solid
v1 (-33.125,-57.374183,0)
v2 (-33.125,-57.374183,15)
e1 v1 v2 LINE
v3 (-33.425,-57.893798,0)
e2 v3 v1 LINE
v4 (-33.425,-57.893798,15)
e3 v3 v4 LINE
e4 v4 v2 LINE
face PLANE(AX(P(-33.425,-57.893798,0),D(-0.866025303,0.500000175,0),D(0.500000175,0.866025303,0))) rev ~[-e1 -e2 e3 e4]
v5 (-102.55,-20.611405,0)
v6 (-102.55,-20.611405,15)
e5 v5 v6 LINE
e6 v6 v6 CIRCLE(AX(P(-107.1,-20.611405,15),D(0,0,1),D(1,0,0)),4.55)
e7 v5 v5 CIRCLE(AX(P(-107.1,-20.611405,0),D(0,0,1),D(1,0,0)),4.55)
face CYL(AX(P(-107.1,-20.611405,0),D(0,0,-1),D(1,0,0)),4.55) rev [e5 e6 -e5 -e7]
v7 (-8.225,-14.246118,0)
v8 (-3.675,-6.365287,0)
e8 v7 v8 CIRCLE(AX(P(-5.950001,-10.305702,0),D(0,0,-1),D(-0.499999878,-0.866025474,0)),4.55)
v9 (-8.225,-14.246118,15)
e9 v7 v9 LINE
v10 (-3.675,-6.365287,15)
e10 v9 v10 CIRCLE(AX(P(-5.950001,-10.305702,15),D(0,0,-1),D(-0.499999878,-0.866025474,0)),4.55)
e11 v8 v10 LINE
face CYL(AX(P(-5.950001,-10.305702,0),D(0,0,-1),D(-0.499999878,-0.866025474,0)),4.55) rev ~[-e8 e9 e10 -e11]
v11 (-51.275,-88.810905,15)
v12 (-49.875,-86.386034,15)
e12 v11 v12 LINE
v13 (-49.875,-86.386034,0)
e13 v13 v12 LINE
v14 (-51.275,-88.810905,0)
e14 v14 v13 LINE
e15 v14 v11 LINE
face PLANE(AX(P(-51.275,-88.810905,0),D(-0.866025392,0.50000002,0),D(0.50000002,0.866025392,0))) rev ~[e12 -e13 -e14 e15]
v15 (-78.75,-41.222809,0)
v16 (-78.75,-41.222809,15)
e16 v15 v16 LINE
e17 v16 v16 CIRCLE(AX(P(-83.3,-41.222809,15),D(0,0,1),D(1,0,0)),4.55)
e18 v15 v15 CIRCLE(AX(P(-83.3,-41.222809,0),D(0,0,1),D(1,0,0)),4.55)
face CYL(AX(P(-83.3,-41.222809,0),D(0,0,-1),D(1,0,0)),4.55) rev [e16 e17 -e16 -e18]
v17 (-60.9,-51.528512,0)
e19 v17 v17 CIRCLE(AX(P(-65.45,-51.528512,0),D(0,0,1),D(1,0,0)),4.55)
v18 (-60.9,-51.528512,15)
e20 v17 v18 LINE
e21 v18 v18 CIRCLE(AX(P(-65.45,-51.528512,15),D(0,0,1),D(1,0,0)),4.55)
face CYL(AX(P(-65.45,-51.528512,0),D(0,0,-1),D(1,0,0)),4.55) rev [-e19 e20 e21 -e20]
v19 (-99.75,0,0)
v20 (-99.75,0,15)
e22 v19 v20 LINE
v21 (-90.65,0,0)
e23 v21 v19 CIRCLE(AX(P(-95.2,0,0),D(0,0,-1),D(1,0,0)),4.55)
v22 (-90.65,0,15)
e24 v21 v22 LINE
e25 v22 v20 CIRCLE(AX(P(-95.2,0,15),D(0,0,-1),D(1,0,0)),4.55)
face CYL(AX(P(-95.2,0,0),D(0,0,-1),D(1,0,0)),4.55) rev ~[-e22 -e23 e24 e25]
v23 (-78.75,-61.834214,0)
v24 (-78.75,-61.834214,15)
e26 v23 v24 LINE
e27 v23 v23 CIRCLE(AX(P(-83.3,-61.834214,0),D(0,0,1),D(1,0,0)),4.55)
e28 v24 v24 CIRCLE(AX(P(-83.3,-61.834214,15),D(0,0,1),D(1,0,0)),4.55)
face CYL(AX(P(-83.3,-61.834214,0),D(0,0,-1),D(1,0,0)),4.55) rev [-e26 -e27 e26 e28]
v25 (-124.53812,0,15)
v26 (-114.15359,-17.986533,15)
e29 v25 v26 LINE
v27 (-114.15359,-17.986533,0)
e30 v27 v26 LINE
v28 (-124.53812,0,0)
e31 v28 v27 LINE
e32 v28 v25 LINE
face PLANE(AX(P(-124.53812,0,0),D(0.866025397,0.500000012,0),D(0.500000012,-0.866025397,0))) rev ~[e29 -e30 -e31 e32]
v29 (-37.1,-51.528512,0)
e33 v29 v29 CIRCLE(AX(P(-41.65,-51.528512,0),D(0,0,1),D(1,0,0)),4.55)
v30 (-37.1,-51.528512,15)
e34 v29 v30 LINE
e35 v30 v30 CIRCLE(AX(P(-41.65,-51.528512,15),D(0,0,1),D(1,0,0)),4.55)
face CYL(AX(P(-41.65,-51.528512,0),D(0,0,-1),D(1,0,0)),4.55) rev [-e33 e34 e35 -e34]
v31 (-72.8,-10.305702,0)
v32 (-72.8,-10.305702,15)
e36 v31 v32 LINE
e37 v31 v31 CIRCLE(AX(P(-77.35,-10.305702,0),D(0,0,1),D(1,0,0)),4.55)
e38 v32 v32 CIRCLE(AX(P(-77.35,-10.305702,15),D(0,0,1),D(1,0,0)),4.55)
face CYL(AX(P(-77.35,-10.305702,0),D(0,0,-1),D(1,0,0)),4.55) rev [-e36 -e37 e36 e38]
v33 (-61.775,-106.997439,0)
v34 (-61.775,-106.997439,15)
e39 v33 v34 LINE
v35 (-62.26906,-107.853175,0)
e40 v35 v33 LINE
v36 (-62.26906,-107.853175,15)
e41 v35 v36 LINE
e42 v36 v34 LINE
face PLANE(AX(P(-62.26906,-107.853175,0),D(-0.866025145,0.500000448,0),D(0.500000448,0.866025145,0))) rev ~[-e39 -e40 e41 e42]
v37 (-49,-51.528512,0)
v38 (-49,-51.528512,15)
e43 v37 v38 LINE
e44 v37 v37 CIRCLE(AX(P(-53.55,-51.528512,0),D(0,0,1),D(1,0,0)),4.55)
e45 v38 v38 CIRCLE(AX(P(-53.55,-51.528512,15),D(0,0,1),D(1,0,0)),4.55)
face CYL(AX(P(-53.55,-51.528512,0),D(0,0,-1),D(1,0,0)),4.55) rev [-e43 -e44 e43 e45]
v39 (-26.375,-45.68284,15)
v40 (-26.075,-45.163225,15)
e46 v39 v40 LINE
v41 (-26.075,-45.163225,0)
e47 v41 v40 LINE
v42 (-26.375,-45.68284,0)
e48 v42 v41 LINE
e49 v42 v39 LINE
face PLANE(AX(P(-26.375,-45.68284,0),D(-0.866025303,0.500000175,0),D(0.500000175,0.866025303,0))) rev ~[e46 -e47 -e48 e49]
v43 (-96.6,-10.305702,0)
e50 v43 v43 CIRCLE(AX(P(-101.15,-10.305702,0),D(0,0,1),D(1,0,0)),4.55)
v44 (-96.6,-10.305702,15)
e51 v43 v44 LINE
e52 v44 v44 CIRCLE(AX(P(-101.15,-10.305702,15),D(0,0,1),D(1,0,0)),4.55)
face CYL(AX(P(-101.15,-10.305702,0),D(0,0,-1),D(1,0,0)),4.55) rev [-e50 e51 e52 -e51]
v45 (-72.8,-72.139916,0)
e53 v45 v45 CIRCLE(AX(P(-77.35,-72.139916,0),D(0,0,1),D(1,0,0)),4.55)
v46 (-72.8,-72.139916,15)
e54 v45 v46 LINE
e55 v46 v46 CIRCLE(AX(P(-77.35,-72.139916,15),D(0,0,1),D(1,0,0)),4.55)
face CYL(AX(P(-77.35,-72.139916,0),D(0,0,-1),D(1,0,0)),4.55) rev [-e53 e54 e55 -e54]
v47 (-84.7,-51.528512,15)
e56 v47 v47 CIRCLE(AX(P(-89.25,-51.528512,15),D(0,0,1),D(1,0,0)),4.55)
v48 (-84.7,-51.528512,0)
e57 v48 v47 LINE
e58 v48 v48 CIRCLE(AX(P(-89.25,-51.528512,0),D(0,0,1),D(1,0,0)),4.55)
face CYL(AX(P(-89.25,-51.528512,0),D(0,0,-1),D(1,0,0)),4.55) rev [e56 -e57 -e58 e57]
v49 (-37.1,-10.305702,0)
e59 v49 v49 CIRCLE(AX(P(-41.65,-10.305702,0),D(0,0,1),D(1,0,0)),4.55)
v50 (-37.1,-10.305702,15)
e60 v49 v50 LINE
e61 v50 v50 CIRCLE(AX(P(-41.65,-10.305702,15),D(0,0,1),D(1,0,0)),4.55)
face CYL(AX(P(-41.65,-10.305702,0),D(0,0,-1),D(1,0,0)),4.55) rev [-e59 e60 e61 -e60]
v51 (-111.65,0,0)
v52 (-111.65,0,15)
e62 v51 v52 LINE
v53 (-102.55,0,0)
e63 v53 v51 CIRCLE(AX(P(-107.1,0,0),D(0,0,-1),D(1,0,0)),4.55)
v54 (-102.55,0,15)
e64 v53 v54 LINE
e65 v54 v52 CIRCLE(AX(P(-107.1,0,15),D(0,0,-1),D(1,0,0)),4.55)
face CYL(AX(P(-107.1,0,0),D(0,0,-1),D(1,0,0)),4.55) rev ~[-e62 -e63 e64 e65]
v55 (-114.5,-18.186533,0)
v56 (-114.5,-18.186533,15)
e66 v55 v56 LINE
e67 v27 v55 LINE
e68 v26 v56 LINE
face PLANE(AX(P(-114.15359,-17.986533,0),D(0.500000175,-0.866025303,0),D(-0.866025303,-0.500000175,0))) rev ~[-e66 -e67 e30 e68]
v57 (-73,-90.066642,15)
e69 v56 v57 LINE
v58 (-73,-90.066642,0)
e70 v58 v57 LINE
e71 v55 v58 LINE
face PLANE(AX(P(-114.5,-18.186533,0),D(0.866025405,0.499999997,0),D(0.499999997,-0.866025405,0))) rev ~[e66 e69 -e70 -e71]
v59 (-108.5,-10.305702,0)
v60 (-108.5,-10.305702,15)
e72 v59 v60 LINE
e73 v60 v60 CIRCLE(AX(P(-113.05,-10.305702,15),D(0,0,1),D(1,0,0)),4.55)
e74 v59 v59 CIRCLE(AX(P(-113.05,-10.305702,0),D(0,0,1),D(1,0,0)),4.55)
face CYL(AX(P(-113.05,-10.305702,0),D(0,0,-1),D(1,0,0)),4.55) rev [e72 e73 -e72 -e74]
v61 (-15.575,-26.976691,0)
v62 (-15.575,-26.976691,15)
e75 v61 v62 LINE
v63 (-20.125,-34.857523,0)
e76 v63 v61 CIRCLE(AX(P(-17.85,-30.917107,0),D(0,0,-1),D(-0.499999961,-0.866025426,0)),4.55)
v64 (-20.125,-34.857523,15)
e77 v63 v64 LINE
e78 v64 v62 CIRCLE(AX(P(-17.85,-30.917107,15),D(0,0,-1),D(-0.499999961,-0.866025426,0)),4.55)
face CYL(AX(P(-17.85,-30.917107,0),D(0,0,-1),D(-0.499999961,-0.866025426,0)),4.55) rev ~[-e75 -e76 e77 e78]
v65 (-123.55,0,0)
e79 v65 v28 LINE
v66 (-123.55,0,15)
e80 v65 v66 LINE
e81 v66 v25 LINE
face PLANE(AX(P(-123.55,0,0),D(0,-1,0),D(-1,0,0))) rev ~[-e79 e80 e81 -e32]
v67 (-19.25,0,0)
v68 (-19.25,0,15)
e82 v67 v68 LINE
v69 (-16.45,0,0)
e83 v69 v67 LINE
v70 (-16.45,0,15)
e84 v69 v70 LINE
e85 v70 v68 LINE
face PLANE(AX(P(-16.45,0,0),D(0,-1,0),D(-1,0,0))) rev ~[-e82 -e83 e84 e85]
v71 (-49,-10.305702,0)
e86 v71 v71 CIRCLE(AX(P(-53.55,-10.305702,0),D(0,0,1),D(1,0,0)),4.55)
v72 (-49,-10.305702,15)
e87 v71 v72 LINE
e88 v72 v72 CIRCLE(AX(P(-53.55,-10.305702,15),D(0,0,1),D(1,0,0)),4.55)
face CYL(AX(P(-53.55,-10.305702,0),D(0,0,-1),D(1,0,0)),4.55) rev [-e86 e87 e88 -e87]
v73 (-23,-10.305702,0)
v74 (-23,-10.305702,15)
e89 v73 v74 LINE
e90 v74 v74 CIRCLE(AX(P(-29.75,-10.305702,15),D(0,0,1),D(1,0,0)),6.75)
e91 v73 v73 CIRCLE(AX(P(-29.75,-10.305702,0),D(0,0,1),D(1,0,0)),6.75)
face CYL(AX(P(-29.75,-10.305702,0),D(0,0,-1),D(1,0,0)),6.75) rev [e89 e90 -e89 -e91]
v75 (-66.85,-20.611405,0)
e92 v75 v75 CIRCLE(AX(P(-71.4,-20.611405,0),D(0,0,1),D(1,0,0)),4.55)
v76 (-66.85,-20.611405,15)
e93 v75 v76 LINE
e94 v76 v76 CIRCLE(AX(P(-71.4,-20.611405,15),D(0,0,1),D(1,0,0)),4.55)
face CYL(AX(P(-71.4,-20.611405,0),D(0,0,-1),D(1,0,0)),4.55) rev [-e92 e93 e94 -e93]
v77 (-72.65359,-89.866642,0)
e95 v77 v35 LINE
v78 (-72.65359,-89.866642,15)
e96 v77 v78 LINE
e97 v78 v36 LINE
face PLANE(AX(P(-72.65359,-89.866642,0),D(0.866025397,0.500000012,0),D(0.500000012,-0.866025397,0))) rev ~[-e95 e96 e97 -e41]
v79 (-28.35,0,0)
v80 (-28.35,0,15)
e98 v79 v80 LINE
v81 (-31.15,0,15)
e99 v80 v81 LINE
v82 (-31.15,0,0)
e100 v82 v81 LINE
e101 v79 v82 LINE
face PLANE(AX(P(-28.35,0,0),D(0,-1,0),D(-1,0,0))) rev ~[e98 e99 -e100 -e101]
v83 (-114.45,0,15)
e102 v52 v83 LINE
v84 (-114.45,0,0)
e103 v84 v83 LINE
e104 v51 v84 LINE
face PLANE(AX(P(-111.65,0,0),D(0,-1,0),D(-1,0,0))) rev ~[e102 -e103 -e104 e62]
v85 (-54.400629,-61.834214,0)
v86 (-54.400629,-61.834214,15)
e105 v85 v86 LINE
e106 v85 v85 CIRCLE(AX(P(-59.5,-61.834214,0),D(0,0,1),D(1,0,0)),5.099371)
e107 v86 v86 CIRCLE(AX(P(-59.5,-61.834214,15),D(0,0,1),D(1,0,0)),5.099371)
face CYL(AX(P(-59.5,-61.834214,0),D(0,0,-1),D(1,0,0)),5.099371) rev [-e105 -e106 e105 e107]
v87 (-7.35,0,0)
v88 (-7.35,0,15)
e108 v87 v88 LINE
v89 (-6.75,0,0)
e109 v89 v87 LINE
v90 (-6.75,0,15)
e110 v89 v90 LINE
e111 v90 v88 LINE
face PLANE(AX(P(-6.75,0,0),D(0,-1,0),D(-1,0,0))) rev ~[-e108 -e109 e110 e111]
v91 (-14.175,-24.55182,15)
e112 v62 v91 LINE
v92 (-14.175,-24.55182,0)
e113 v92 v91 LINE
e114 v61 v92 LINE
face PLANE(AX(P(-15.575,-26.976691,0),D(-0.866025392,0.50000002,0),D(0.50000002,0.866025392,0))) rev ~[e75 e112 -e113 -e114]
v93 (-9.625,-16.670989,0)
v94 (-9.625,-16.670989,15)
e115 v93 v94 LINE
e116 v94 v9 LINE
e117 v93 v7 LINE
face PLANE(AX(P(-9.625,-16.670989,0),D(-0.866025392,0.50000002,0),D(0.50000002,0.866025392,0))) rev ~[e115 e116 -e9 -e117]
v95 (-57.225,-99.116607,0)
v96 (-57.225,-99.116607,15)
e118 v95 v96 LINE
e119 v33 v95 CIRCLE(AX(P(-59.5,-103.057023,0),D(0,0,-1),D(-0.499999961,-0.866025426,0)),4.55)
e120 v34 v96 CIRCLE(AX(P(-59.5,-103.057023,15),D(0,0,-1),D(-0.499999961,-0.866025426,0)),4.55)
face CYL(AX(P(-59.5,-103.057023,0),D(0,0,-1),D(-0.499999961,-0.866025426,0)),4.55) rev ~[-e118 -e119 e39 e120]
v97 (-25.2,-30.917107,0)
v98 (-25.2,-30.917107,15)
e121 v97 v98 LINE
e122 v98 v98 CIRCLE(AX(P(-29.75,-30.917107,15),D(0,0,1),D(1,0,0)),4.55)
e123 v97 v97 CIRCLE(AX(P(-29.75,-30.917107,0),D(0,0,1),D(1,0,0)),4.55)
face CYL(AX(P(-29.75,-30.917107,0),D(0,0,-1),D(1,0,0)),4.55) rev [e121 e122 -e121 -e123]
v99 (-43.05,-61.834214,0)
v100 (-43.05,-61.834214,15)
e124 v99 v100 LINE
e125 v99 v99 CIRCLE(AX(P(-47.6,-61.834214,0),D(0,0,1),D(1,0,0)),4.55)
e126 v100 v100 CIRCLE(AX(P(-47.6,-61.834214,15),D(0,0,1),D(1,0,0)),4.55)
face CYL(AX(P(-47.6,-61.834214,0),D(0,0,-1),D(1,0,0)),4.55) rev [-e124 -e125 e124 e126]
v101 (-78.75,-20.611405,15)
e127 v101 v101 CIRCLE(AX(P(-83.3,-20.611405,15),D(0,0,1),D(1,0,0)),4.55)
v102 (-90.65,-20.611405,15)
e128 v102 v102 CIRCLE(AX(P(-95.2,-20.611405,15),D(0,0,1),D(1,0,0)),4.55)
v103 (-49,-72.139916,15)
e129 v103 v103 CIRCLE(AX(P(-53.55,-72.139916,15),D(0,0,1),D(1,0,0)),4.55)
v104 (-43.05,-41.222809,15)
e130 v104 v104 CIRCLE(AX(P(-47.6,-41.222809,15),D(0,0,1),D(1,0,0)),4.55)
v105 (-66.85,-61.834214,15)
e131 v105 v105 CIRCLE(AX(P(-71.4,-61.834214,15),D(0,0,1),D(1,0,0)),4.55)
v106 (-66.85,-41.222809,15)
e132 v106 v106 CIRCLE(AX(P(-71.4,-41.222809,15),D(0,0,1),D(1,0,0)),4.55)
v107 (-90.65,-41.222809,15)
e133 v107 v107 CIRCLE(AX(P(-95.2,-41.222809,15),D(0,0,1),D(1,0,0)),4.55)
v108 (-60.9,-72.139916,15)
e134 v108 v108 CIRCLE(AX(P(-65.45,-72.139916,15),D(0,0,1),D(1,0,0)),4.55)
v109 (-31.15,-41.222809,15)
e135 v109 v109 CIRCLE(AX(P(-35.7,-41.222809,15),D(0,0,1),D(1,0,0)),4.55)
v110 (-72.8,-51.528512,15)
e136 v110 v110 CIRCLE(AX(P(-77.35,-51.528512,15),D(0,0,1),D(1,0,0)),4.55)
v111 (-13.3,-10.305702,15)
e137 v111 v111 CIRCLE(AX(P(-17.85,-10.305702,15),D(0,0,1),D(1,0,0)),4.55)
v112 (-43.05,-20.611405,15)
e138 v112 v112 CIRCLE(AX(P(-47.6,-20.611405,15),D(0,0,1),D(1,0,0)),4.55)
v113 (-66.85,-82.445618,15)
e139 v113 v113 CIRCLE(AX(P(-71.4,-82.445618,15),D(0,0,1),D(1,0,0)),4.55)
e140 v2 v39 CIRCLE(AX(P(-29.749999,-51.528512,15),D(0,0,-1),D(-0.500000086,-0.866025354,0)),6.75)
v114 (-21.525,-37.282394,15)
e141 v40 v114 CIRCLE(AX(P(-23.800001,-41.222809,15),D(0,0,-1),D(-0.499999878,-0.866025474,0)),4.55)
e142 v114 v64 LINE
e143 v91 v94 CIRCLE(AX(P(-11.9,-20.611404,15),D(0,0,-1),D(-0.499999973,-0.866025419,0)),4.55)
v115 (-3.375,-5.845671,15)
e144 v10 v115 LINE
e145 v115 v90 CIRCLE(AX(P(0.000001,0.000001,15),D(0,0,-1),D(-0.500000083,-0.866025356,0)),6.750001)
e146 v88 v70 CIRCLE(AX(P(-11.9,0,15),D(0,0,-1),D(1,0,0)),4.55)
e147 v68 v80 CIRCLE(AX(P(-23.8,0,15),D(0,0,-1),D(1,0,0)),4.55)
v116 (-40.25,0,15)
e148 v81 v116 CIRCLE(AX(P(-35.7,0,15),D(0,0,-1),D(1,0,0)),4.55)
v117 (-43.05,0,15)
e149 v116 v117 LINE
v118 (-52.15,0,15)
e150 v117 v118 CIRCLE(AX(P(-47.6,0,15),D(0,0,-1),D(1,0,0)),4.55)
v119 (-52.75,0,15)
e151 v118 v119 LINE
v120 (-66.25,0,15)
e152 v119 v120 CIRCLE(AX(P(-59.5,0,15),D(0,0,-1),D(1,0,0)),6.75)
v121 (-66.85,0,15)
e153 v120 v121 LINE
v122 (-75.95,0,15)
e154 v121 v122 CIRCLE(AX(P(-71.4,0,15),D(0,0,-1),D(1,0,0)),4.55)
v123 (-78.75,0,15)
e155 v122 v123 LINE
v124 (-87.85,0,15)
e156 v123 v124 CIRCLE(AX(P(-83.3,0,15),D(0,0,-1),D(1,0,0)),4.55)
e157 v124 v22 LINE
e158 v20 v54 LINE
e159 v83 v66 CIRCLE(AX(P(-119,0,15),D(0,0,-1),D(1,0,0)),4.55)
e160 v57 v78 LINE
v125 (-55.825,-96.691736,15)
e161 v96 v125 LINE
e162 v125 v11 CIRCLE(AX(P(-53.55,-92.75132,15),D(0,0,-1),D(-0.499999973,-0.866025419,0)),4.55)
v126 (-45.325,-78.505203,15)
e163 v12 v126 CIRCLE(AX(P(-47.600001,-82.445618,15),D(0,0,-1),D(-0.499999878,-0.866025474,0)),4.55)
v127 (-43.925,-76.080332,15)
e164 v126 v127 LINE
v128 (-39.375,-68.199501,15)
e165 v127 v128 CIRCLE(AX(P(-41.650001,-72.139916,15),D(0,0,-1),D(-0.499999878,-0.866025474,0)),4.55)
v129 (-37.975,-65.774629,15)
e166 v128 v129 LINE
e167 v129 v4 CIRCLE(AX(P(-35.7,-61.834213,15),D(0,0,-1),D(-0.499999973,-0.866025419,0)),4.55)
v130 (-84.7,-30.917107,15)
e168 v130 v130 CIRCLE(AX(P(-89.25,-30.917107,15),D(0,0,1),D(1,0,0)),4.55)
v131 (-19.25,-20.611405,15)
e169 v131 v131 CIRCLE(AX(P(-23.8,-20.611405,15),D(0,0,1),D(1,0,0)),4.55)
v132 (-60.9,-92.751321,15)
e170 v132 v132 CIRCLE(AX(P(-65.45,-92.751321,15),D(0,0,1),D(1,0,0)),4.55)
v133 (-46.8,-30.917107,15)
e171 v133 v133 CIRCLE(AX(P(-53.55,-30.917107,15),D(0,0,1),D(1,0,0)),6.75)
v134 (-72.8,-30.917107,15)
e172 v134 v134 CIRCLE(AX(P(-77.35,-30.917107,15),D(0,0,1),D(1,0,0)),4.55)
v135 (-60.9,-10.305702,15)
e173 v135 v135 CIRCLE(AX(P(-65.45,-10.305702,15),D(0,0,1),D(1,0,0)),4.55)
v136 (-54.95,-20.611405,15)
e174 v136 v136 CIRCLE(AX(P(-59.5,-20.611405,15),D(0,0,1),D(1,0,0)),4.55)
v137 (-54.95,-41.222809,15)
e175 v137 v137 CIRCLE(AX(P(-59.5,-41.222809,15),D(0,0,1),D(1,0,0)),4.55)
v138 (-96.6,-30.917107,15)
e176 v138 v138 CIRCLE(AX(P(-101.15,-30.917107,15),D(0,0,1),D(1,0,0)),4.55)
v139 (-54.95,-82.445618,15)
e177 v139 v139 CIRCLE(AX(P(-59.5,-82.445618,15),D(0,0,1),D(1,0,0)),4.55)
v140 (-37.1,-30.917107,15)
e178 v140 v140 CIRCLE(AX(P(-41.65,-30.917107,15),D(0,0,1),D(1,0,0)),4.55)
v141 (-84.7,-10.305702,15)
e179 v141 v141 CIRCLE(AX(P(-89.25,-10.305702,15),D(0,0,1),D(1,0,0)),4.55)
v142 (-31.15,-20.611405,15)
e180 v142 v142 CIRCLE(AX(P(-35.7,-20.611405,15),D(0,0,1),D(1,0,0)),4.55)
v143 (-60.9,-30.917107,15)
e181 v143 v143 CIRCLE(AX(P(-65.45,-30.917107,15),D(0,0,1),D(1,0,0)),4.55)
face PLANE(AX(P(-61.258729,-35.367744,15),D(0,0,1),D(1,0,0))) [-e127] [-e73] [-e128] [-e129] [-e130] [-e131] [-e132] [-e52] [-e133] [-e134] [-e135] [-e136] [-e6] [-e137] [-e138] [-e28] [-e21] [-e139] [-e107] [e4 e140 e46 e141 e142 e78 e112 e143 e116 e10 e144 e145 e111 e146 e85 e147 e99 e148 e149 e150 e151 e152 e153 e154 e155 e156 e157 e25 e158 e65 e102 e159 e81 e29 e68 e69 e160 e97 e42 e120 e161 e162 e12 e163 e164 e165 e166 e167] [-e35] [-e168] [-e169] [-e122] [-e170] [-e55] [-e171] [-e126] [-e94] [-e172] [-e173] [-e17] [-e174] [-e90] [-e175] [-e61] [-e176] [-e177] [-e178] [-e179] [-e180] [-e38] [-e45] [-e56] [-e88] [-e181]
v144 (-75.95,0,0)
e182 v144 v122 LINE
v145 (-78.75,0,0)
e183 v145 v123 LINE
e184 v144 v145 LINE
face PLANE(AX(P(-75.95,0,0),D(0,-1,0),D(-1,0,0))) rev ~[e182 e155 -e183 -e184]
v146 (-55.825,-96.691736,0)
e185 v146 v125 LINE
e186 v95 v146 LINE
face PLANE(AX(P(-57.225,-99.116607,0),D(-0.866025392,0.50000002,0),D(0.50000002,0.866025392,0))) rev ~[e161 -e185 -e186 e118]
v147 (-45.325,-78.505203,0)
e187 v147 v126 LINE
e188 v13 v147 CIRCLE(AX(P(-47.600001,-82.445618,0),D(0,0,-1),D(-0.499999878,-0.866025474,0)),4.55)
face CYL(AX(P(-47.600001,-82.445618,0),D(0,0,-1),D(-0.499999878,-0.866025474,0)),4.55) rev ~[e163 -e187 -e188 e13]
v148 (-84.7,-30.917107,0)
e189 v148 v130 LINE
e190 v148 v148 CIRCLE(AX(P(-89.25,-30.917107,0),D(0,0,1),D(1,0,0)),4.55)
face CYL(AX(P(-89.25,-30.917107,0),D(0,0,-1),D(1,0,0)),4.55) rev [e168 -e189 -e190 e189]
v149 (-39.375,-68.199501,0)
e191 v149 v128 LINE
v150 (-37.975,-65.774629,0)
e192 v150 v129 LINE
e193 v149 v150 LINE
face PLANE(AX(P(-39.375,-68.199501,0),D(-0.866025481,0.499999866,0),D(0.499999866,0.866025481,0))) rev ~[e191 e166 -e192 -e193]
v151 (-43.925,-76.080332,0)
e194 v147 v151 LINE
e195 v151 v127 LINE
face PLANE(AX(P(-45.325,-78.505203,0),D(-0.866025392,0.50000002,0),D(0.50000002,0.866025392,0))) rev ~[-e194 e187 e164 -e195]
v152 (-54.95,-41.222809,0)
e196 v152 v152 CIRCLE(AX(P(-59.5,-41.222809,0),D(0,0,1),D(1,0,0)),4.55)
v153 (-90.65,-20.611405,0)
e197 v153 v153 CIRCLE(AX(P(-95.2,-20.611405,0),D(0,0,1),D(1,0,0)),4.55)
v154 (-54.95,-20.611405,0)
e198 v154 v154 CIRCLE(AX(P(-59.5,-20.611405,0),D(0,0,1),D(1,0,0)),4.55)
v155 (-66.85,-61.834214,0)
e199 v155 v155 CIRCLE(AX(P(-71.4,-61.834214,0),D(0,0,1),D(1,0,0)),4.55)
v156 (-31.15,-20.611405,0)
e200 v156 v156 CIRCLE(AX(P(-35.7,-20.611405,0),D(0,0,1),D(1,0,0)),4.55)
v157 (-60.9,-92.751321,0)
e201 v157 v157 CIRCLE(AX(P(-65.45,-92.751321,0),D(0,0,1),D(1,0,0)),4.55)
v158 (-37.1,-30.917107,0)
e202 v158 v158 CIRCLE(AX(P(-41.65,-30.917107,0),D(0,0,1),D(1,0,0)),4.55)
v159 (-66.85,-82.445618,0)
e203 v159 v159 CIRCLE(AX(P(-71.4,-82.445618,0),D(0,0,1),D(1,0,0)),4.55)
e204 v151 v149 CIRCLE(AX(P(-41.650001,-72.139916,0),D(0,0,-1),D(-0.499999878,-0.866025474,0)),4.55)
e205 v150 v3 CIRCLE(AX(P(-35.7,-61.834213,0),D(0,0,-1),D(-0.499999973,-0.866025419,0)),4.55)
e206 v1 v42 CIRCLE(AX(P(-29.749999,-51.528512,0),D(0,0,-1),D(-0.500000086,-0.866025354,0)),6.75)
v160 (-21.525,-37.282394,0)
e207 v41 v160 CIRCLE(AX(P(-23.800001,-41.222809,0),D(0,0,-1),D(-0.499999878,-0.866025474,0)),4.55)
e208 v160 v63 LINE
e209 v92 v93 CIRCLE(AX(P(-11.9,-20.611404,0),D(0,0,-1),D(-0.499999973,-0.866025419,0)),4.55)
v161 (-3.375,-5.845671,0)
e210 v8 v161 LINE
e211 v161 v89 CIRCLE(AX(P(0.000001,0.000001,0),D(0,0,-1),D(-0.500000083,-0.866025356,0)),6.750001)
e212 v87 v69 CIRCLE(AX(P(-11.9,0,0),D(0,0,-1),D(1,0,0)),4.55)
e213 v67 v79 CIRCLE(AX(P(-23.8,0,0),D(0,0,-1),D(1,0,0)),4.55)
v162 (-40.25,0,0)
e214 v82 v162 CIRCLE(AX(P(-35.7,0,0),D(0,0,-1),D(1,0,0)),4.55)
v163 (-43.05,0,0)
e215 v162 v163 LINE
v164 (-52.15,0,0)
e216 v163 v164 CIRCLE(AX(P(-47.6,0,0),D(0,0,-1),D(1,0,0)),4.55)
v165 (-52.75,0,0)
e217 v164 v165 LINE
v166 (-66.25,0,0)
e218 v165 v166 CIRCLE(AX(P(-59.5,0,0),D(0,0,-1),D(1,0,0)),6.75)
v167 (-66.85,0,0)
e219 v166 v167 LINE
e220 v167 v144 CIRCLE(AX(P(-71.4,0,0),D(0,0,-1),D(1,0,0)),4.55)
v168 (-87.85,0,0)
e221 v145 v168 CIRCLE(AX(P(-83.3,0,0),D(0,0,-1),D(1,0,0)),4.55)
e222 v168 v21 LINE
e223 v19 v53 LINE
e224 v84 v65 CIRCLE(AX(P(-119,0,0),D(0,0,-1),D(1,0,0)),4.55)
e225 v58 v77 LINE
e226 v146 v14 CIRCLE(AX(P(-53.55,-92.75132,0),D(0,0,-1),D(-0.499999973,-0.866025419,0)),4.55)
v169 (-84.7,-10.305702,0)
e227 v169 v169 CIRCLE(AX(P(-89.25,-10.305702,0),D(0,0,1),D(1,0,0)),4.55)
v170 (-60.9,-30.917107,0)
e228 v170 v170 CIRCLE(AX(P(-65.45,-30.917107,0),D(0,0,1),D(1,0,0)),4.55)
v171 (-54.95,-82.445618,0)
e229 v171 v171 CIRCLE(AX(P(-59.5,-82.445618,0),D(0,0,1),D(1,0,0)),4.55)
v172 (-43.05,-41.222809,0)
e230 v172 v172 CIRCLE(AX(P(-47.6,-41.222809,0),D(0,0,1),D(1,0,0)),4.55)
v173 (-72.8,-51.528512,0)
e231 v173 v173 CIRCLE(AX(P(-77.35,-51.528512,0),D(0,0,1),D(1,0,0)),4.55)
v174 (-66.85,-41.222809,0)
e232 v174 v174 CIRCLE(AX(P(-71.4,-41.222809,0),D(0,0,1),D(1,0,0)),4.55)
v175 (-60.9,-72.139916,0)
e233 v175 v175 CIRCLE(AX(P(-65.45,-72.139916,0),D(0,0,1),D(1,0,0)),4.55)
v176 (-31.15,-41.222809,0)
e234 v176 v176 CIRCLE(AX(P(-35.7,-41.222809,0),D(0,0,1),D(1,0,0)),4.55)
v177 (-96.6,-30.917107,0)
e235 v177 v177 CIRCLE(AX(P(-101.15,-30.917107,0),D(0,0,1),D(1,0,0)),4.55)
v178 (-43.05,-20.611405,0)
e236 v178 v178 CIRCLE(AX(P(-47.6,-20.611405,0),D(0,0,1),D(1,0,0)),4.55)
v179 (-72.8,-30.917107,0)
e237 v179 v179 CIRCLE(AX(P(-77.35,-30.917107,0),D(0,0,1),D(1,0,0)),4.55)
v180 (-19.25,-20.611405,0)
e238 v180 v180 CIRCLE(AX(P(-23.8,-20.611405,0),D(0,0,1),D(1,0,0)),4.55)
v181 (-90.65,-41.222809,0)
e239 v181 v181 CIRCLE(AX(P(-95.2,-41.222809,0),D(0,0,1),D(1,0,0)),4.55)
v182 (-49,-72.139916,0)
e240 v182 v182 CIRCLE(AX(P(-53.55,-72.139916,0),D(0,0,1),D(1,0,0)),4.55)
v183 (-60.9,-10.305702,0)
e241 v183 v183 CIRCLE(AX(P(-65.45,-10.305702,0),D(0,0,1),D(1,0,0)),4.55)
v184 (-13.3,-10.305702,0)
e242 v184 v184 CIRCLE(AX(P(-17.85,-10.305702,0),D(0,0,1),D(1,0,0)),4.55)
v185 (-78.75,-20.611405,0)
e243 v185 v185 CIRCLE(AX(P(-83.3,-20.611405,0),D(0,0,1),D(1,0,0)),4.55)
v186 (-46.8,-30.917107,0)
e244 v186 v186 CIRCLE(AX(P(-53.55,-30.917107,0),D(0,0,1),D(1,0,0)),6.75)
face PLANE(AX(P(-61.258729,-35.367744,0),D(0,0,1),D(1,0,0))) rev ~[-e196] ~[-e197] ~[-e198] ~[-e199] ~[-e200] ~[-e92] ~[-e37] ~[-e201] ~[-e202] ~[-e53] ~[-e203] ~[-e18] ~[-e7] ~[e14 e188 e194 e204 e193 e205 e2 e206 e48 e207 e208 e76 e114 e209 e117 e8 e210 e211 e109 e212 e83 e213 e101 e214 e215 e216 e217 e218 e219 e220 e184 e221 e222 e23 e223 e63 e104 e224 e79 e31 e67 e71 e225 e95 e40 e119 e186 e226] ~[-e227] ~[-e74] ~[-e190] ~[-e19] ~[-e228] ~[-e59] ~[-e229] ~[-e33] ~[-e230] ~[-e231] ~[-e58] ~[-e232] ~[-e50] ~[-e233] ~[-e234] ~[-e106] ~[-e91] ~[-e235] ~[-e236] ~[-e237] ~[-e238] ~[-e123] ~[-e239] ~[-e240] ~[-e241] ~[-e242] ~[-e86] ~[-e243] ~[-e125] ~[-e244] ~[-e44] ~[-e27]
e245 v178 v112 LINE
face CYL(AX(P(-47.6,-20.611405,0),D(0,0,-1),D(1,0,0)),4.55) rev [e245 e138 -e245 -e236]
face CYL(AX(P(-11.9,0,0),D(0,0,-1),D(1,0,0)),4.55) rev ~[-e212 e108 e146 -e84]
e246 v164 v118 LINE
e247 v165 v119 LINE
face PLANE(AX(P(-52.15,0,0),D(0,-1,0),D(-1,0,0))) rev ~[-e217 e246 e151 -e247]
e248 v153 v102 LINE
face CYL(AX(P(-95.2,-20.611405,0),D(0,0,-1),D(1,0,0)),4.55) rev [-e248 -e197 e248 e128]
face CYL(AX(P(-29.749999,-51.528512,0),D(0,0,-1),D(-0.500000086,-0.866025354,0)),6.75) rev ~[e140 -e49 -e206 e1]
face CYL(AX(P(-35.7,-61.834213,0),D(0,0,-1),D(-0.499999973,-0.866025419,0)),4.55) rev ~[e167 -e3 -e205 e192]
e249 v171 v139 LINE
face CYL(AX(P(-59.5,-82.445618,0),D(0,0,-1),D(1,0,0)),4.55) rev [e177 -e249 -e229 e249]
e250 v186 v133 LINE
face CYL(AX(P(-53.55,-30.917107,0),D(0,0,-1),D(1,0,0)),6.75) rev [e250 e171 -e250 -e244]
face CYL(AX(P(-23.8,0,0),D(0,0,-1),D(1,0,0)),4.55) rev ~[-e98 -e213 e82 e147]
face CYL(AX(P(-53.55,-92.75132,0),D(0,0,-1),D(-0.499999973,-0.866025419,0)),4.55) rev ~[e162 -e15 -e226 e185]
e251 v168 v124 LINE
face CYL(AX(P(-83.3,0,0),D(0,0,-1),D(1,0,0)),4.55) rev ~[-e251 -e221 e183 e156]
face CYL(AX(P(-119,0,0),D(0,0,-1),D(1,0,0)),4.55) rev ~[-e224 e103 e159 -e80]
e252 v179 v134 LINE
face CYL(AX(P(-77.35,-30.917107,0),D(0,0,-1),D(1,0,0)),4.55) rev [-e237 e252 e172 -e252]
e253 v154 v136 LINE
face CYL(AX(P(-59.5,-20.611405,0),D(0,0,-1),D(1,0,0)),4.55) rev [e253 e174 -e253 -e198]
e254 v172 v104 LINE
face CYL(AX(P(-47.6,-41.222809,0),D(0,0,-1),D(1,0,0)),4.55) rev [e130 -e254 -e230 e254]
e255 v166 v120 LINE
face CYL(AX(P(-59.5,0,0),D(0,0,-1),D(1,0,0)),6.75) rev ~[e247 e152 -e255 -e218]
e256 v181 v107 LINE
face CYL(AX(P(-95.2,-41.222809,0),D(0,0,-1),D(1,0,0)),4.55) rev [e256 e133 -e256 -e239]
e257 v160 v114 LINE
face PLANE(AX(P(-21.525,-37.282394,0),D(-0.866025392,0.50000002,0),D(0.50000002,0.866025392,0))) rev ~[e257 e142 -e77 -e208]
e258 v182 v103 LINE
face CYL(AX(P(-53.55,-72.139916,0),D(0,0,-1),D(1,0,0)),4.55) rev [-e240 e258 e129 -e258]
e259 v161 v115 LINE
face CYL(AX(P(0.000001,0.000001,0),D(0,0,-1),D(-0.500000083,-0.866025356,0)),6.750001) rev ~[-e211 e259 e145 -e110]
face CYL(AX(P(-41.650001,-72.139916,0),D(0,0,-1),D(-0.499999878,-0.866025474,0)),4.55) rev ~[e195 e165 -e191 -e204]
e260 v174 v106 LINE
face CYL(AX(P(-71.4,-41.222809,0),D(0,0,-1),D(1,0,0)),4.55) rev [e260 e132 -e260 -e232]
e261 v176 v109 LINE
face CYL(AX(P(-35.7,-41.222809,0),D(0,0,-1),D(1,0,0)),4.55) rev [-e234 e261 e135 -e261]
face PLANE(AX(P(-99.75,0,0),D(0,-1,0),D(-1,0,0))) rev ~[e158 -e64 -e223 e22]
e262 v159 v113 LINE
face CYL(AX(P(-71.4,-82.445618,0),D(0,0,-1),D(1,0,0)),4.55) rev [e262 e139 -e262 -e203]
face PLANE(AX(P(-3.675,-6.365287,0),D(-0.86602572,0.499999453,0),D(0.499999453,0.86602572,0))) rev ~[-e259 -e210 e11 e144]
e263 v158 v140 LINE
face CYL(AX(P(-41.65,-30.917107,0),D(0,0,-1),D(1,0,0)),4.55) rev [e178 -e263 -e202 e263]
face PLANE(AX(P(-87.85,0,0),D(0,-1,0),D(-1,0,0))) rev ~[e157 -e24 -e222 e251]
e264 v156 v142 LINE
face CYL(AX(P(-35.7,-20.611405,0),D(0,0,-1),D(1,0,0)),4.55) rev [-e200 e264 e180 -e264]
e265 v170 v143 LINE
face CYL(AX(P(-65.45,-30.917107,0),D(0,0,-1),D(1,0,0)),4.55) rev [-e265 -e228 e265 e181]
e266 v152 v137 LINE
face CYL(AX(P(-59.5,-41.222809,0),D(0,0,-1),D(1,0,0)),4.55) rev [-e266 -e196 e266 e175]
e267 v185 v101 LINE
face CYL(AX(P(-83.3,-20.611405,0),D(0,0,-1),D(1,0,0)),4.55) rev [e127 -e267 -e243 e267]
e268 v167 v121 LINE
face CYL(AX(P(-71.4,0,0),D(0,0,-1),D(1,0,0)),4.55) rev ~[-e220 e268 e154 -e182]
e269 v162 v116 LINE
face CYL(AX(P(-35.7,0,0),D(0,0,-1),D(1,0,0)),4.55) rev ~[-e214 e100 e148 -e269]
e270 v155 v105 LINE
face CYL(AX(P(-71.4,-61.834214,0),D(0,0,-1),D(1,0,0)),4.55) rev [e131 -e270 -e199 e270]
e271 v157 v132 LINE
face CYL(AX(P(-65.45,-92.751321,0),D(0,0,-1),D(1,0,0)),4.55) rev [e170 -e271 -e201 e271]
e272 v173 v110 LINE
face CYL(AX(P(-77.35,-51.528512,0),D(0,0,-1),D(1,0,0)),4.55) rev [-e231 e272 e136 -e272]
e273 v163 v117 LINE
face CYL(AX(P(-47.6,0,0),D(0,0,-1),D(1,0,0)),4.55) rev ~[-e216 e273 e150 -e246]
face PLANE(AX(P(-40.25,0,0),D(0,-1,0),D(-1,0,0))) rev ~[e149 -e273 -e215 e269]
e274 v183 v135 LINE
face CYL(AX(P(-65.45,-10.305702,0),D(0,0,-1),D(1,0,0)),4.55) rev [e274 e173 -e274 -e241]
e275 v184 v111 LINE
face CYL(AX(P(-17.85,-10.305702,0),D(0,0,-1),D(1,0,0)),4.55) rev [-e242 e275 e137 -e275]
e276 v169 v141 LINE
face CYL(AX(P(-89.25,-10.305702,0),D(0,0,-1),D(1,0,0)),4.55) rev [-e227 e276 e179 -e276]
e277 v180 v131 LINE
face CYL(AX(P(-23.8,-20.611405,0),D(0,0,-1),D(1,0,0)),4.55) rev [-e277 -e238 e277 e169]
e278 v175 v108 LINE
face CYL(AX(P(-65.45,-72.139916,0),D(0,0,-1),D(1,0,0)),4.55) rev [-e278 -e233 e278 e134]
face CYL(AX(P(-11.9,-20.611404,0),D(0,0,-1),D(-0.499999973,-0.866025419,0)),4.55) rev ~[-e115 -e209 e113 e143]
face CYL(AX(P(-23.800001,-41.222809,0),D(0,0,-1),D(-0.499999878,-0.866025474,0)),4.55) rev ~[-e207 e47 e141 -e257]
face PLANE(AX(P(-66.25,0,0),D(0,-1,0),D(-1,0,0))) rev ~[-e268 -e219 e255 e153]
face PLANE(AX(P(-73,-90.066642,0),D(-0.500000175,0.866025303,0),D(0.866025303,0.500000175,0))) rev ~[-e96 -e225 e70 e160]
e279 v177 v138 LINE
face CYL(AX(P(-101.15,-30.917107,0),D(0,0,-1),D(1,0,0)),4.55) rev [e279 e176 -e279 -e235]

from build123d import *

# Parameters (mm, degrees)
F0_R     = 4.55
F0_R_2   = 5.099371
F0_R_3   = 6.75
F1_DEPTH = 15


with BuildPart() as f1:
    # F0 (on Top) → F1 (new body)
    with BuildSketch(Plane.XY):
        with BuildLine():
            Line((-114.5, -18.186533), (-73, -90.066642))
            Line((-73, -90.066642), (-72.65359, -89.866642))
            Line((-72.65359, -89.866642), (-62.26906, -107.853175))
            Line((-62.26906, -107.853175), (-61.775, -106.997439))
            ThreePointArc((-61.775, -106.997439), (-63.440416, -100.782023), (-57.225, -99.116607))
            Line((-57.225, -99.116607), (-55.825, -96.691736))
            ThreePointArc((-55.825, -96.691736), (-57.490416, -90.476321), (-51.275, -88.810905))
            Line((-51.275, -88.810905), (-49.875, -86.386034))
            ThreePointArc((-49.875, -86.386034), (-51.540416, -80.170618), (-45.325, -78.505203))
            Line((-45.325, -78.505203), (-43.925, -76.080332))
            ThreePointArc((-43.925, -76.080332), (-45.590416, -69.864916), (-39.375, -68.199501))
            Line((-39.375, -68.199501), (-37.975, -65.774629))
            ThreePointArc((-37.975, -65.774629), (-39.640416, -59.559214), (-33.425, -57.893798))
            Line((-33.425, -57.893798), (-33.125, -57.374183))
            ThreePointArc((-33.125, -57.374183), (-35.595671, -48.153512), (-26.375, -45.68284))
            Line((-26.375, -45.68284), (-26.075, -45.163225))
            ThreePointArc((-26.075, -45.163225), (-27.740416, -38.947809), (-21.525, -37.282394))
            Line((-21.525, -37.282394), (-20.125, -34.857523))
            ThreePointArc((-20.125, -34.857523), (-21.790416, -28.642107), (-15.575, -26.976691))
            Line((-15.575, -26.976691), (-14.175, -24.55182))
            ThreePointArc((-14.175, -24.55182), (-15.840416, -18.336405), (-9.625, -16.670989))
            Line((-9.625, -16.670989), (-8.225, -14.246118))
            ThreePointArc((-8.225, -14.246118), (-9.890416, -8.030702), (-3.675, -6.365287))
            Line((-3.675, -6.365287), (-3.375, -5.845671))
            ThreePointArc((-3.375, -5.845671), (-5.845671, -3.375), (-6.75, 0))
            Line((-6.75, 0), (-7.35, 0))
            ThreePointArc((-7.35, 0), (-11.9, -4.55), (-16.45, 0))
            Line((-16.45, 0), (-19.25, 0))
            ThreePointArc((-19.25, 0), (-23.8, -4.55), (-28.35, 0))
            Line((-28.35, 0), (-31.15, 0))
            ThreePointArc((-31.15, 0), (-35.7, -4.55), (-40.25, 0))
            Line((-40.25, 0), (-43.05, 0))
            ThreePointArc((-43.05, 0), (-47.6, -4.55), (-52.15, 0))
            Line((-52.15, 0), (-52.75, 0))
            ThreePointArc((-52.75, 0), (-59.5, -6.75), (-66.25, 0))
            Line((-66.25, 0), (-66.85, 0))
            ThreePointArc((-66.85, 0), (-71.4, -4.55), (-75.95, 0))
            Line((-75.95, 0), (-78.75, 0))
            ThreePointArc((-78.75, 0), (-83.3, -4.55), (-87.85, 0))
            Line((-87.85, 0), (-90.65, 0))
            ThreePointArc((-90.65, 0), (-95.2, -4.55), (-99.75, 0))
            Line((-99.75, 0), (-102.55, 0))
            ThreePointArc((-102.55, 0), (-107.1, -4.55), (-111.65, 0))
            Line((-111.65, 0), (-114.45, 0))
            ThreePointArc((-114.45, 0), (-119, -4.55), (-123.55, 0))
            Line((-123.55, 0), (-124.53812, 0))
            Line((-124.53812, 0), (-114.15359, -17.986533))
            Line((-114.15359, -17.986533), (-114.5, -18.186533))
        make_face()
        with Locations((-65.45, -92.751321)):
            Circle(F0_R, mode=Mode.SUBTRACT)
        with Locations((-71.4, -82.445618)):
            Circle(F0_R, mode=Mode.SUBTRACT)
        with Locations((-59.5, -82.445618)):
            Circle(F0_R, mode=Mode.SUBTRACT)
        with Locations((-77.35, -72.139916)):
            Circle(F0_R, mode=Mode.SUBTRACT)
        with Locations((-65.45, -72.139916)):
            Circle(F0_R, mode=Mode.SUBTRACT)
        with Locations((-83.3, -61.834214)):
            Circle(F0_R, mode=Mode.SUBTRACT)
        with Locations((-89.25, -51.528512)):
            Circle(F0_R, mode=Mode.SUBTRACT)
        with Locations((-77.35, -51.528512)):
            Circle(F0_R, mode=Mode.SUBTRACT)
        with Locations((-71.4, -61.834214)):
            Circle(F0_R, mode=Mode.SUBTRACT)
        with Locations((-59.5, -61.834214)):
            Circle(F0_R_2, mode=Mode.SUBTRACT)
        with Locations((-65.45, -51.528512)):
            Circle(F0_R, mode=Mode.SUBTRACT)
        with Locations((-53.55, -72.139916)):
            Circle(F0_R, mode=Mode.SUBTRACT)
        with Locations((-47.6, -61.834214)):
            Circle(F0_R, mode=Mode.SUBTRACT)
        with Locations((-53.55, -51.528512)):
            Circle(F0_R, mode=Mode.SUBTRACT)
        with Locations((-41.65, -51.528512)):
            Circle(F0_R, mode=Mode.SUBTRACT)
        with Locations((-95.2, -41.222809)):
            Circle(F0_R, mode=Mode.SUBTRACT)
        with Locations((-101.15, -30.917107)):
            Circle(F0_R, mode=Mode.SUBTRACT)
        with Locations((-83.3, -41.222809)):
            Circle(F0_R, mode=Mode.SUBTRACT)
        with Locations((-71.4, -41.222809)):
            Circle(F0_R, mode=Mode.SUBTRACT)
        with Locations((-59.5, -41.222809)):
            Circle(F0_R, mode=Mode.SUBTRACT)
        with Locations((-89.25, -30.917107)):
            Circle(F0_R, mode=Mode.SUBTRACT)
        with Locations((-77.35, -30.917107)):
            Circle(F0_R, mode=Mode.SUBTRACT)
        with Locations((-65.45, -30.917107)):
            Circle(F0_R, mode=Mode.SUBTRACT)
        with Locations((-113.05, -10.305702)):
            Circle(F0_R, mode=Mode.SUBTRACT)
        with Locations((-107.1, -20.611405)):
            Circle(F0_R, mode=Mode.SUBTRACT)
        with Locations((-95.2, -20.611405)):
            Circle(F0_R, mode=Mode.SUBTRACT)
        with Locations((-101.15, -10.305702)):
            Circle(F0_R, mode=Mode.SUBTRACT)
        with Locations((-83.3, -20.611405)):
            Circle(F0_R, mode=Mode.SUBTRACT)
        with Locations((-89.25, -10.305702)):
            Circle(F0_R, mode=Mode.SUBTRACT)
        with Locations((-77.35, -10.305702)):
            Circle(F0_R, mode=Mode.SUBTRACT)
        with Locations((-71.4, -20.611405)):
            Circle(F0_R, mode=Mode.SUBTRACT)
        with Locations((-59.5, -20.611405)):
            Circle(F0_R, mode=Mode.SUBTRACT)
        with Locations((-65.45, -10.305702)):
            Circle(F0_R, mode=Mode.SUBTRACT)
        with Locations((-47.6, -41.222809)):
            Circle(F0_R, mode=Mode.SUBTRACT)
        with Locations((-35.7, -41.222809)):
            Circle(F0_R, mode=Mode.SUBTRACT)
        with Locations((-53.55, -30.917107)):
            Circle(F0_R_3, mode=Mode.SUBTRACT)
        with Locations((-41.65, -30.917107)):
            Circle(F0_R, mode=Mode.SUBTRACT)
        with Locations((-29.75, -30.917107)):
            Circle(F0_R, mode=Mode.SUBTRACT)
        with Locations((-47.6, -20.611405)):
            Circle(F0_R, mode=Mode.SUBTRACT)
        with Locations((-53.55, -10.305702)):
            Circle(F0_R, mode=Mode.SUBTRACT)
        with Locations((-35.7, -20.611405)):
            Circle(F0_R, mode=Mode.SUBTRACT)
        with Locations((-41.65, -10.305702)):
            Circle(F0_R, mode=Mode.SUBTRACT)
        with Locations((-29.75, -10.305702)):
            Circle(F0_R_3, mode=Mode.SUBTRACT)
        with Locations((-23.8, -20.611405)):
            Circle(F0_R, mode=Mode.SUBTRACT)
        with Locations((-17.85, -10.305702)):
            Circle(F0_R, mode=Mode.SUBTRACT)
    extrude(amount=F1_DEPTH)


solid = f1.part
